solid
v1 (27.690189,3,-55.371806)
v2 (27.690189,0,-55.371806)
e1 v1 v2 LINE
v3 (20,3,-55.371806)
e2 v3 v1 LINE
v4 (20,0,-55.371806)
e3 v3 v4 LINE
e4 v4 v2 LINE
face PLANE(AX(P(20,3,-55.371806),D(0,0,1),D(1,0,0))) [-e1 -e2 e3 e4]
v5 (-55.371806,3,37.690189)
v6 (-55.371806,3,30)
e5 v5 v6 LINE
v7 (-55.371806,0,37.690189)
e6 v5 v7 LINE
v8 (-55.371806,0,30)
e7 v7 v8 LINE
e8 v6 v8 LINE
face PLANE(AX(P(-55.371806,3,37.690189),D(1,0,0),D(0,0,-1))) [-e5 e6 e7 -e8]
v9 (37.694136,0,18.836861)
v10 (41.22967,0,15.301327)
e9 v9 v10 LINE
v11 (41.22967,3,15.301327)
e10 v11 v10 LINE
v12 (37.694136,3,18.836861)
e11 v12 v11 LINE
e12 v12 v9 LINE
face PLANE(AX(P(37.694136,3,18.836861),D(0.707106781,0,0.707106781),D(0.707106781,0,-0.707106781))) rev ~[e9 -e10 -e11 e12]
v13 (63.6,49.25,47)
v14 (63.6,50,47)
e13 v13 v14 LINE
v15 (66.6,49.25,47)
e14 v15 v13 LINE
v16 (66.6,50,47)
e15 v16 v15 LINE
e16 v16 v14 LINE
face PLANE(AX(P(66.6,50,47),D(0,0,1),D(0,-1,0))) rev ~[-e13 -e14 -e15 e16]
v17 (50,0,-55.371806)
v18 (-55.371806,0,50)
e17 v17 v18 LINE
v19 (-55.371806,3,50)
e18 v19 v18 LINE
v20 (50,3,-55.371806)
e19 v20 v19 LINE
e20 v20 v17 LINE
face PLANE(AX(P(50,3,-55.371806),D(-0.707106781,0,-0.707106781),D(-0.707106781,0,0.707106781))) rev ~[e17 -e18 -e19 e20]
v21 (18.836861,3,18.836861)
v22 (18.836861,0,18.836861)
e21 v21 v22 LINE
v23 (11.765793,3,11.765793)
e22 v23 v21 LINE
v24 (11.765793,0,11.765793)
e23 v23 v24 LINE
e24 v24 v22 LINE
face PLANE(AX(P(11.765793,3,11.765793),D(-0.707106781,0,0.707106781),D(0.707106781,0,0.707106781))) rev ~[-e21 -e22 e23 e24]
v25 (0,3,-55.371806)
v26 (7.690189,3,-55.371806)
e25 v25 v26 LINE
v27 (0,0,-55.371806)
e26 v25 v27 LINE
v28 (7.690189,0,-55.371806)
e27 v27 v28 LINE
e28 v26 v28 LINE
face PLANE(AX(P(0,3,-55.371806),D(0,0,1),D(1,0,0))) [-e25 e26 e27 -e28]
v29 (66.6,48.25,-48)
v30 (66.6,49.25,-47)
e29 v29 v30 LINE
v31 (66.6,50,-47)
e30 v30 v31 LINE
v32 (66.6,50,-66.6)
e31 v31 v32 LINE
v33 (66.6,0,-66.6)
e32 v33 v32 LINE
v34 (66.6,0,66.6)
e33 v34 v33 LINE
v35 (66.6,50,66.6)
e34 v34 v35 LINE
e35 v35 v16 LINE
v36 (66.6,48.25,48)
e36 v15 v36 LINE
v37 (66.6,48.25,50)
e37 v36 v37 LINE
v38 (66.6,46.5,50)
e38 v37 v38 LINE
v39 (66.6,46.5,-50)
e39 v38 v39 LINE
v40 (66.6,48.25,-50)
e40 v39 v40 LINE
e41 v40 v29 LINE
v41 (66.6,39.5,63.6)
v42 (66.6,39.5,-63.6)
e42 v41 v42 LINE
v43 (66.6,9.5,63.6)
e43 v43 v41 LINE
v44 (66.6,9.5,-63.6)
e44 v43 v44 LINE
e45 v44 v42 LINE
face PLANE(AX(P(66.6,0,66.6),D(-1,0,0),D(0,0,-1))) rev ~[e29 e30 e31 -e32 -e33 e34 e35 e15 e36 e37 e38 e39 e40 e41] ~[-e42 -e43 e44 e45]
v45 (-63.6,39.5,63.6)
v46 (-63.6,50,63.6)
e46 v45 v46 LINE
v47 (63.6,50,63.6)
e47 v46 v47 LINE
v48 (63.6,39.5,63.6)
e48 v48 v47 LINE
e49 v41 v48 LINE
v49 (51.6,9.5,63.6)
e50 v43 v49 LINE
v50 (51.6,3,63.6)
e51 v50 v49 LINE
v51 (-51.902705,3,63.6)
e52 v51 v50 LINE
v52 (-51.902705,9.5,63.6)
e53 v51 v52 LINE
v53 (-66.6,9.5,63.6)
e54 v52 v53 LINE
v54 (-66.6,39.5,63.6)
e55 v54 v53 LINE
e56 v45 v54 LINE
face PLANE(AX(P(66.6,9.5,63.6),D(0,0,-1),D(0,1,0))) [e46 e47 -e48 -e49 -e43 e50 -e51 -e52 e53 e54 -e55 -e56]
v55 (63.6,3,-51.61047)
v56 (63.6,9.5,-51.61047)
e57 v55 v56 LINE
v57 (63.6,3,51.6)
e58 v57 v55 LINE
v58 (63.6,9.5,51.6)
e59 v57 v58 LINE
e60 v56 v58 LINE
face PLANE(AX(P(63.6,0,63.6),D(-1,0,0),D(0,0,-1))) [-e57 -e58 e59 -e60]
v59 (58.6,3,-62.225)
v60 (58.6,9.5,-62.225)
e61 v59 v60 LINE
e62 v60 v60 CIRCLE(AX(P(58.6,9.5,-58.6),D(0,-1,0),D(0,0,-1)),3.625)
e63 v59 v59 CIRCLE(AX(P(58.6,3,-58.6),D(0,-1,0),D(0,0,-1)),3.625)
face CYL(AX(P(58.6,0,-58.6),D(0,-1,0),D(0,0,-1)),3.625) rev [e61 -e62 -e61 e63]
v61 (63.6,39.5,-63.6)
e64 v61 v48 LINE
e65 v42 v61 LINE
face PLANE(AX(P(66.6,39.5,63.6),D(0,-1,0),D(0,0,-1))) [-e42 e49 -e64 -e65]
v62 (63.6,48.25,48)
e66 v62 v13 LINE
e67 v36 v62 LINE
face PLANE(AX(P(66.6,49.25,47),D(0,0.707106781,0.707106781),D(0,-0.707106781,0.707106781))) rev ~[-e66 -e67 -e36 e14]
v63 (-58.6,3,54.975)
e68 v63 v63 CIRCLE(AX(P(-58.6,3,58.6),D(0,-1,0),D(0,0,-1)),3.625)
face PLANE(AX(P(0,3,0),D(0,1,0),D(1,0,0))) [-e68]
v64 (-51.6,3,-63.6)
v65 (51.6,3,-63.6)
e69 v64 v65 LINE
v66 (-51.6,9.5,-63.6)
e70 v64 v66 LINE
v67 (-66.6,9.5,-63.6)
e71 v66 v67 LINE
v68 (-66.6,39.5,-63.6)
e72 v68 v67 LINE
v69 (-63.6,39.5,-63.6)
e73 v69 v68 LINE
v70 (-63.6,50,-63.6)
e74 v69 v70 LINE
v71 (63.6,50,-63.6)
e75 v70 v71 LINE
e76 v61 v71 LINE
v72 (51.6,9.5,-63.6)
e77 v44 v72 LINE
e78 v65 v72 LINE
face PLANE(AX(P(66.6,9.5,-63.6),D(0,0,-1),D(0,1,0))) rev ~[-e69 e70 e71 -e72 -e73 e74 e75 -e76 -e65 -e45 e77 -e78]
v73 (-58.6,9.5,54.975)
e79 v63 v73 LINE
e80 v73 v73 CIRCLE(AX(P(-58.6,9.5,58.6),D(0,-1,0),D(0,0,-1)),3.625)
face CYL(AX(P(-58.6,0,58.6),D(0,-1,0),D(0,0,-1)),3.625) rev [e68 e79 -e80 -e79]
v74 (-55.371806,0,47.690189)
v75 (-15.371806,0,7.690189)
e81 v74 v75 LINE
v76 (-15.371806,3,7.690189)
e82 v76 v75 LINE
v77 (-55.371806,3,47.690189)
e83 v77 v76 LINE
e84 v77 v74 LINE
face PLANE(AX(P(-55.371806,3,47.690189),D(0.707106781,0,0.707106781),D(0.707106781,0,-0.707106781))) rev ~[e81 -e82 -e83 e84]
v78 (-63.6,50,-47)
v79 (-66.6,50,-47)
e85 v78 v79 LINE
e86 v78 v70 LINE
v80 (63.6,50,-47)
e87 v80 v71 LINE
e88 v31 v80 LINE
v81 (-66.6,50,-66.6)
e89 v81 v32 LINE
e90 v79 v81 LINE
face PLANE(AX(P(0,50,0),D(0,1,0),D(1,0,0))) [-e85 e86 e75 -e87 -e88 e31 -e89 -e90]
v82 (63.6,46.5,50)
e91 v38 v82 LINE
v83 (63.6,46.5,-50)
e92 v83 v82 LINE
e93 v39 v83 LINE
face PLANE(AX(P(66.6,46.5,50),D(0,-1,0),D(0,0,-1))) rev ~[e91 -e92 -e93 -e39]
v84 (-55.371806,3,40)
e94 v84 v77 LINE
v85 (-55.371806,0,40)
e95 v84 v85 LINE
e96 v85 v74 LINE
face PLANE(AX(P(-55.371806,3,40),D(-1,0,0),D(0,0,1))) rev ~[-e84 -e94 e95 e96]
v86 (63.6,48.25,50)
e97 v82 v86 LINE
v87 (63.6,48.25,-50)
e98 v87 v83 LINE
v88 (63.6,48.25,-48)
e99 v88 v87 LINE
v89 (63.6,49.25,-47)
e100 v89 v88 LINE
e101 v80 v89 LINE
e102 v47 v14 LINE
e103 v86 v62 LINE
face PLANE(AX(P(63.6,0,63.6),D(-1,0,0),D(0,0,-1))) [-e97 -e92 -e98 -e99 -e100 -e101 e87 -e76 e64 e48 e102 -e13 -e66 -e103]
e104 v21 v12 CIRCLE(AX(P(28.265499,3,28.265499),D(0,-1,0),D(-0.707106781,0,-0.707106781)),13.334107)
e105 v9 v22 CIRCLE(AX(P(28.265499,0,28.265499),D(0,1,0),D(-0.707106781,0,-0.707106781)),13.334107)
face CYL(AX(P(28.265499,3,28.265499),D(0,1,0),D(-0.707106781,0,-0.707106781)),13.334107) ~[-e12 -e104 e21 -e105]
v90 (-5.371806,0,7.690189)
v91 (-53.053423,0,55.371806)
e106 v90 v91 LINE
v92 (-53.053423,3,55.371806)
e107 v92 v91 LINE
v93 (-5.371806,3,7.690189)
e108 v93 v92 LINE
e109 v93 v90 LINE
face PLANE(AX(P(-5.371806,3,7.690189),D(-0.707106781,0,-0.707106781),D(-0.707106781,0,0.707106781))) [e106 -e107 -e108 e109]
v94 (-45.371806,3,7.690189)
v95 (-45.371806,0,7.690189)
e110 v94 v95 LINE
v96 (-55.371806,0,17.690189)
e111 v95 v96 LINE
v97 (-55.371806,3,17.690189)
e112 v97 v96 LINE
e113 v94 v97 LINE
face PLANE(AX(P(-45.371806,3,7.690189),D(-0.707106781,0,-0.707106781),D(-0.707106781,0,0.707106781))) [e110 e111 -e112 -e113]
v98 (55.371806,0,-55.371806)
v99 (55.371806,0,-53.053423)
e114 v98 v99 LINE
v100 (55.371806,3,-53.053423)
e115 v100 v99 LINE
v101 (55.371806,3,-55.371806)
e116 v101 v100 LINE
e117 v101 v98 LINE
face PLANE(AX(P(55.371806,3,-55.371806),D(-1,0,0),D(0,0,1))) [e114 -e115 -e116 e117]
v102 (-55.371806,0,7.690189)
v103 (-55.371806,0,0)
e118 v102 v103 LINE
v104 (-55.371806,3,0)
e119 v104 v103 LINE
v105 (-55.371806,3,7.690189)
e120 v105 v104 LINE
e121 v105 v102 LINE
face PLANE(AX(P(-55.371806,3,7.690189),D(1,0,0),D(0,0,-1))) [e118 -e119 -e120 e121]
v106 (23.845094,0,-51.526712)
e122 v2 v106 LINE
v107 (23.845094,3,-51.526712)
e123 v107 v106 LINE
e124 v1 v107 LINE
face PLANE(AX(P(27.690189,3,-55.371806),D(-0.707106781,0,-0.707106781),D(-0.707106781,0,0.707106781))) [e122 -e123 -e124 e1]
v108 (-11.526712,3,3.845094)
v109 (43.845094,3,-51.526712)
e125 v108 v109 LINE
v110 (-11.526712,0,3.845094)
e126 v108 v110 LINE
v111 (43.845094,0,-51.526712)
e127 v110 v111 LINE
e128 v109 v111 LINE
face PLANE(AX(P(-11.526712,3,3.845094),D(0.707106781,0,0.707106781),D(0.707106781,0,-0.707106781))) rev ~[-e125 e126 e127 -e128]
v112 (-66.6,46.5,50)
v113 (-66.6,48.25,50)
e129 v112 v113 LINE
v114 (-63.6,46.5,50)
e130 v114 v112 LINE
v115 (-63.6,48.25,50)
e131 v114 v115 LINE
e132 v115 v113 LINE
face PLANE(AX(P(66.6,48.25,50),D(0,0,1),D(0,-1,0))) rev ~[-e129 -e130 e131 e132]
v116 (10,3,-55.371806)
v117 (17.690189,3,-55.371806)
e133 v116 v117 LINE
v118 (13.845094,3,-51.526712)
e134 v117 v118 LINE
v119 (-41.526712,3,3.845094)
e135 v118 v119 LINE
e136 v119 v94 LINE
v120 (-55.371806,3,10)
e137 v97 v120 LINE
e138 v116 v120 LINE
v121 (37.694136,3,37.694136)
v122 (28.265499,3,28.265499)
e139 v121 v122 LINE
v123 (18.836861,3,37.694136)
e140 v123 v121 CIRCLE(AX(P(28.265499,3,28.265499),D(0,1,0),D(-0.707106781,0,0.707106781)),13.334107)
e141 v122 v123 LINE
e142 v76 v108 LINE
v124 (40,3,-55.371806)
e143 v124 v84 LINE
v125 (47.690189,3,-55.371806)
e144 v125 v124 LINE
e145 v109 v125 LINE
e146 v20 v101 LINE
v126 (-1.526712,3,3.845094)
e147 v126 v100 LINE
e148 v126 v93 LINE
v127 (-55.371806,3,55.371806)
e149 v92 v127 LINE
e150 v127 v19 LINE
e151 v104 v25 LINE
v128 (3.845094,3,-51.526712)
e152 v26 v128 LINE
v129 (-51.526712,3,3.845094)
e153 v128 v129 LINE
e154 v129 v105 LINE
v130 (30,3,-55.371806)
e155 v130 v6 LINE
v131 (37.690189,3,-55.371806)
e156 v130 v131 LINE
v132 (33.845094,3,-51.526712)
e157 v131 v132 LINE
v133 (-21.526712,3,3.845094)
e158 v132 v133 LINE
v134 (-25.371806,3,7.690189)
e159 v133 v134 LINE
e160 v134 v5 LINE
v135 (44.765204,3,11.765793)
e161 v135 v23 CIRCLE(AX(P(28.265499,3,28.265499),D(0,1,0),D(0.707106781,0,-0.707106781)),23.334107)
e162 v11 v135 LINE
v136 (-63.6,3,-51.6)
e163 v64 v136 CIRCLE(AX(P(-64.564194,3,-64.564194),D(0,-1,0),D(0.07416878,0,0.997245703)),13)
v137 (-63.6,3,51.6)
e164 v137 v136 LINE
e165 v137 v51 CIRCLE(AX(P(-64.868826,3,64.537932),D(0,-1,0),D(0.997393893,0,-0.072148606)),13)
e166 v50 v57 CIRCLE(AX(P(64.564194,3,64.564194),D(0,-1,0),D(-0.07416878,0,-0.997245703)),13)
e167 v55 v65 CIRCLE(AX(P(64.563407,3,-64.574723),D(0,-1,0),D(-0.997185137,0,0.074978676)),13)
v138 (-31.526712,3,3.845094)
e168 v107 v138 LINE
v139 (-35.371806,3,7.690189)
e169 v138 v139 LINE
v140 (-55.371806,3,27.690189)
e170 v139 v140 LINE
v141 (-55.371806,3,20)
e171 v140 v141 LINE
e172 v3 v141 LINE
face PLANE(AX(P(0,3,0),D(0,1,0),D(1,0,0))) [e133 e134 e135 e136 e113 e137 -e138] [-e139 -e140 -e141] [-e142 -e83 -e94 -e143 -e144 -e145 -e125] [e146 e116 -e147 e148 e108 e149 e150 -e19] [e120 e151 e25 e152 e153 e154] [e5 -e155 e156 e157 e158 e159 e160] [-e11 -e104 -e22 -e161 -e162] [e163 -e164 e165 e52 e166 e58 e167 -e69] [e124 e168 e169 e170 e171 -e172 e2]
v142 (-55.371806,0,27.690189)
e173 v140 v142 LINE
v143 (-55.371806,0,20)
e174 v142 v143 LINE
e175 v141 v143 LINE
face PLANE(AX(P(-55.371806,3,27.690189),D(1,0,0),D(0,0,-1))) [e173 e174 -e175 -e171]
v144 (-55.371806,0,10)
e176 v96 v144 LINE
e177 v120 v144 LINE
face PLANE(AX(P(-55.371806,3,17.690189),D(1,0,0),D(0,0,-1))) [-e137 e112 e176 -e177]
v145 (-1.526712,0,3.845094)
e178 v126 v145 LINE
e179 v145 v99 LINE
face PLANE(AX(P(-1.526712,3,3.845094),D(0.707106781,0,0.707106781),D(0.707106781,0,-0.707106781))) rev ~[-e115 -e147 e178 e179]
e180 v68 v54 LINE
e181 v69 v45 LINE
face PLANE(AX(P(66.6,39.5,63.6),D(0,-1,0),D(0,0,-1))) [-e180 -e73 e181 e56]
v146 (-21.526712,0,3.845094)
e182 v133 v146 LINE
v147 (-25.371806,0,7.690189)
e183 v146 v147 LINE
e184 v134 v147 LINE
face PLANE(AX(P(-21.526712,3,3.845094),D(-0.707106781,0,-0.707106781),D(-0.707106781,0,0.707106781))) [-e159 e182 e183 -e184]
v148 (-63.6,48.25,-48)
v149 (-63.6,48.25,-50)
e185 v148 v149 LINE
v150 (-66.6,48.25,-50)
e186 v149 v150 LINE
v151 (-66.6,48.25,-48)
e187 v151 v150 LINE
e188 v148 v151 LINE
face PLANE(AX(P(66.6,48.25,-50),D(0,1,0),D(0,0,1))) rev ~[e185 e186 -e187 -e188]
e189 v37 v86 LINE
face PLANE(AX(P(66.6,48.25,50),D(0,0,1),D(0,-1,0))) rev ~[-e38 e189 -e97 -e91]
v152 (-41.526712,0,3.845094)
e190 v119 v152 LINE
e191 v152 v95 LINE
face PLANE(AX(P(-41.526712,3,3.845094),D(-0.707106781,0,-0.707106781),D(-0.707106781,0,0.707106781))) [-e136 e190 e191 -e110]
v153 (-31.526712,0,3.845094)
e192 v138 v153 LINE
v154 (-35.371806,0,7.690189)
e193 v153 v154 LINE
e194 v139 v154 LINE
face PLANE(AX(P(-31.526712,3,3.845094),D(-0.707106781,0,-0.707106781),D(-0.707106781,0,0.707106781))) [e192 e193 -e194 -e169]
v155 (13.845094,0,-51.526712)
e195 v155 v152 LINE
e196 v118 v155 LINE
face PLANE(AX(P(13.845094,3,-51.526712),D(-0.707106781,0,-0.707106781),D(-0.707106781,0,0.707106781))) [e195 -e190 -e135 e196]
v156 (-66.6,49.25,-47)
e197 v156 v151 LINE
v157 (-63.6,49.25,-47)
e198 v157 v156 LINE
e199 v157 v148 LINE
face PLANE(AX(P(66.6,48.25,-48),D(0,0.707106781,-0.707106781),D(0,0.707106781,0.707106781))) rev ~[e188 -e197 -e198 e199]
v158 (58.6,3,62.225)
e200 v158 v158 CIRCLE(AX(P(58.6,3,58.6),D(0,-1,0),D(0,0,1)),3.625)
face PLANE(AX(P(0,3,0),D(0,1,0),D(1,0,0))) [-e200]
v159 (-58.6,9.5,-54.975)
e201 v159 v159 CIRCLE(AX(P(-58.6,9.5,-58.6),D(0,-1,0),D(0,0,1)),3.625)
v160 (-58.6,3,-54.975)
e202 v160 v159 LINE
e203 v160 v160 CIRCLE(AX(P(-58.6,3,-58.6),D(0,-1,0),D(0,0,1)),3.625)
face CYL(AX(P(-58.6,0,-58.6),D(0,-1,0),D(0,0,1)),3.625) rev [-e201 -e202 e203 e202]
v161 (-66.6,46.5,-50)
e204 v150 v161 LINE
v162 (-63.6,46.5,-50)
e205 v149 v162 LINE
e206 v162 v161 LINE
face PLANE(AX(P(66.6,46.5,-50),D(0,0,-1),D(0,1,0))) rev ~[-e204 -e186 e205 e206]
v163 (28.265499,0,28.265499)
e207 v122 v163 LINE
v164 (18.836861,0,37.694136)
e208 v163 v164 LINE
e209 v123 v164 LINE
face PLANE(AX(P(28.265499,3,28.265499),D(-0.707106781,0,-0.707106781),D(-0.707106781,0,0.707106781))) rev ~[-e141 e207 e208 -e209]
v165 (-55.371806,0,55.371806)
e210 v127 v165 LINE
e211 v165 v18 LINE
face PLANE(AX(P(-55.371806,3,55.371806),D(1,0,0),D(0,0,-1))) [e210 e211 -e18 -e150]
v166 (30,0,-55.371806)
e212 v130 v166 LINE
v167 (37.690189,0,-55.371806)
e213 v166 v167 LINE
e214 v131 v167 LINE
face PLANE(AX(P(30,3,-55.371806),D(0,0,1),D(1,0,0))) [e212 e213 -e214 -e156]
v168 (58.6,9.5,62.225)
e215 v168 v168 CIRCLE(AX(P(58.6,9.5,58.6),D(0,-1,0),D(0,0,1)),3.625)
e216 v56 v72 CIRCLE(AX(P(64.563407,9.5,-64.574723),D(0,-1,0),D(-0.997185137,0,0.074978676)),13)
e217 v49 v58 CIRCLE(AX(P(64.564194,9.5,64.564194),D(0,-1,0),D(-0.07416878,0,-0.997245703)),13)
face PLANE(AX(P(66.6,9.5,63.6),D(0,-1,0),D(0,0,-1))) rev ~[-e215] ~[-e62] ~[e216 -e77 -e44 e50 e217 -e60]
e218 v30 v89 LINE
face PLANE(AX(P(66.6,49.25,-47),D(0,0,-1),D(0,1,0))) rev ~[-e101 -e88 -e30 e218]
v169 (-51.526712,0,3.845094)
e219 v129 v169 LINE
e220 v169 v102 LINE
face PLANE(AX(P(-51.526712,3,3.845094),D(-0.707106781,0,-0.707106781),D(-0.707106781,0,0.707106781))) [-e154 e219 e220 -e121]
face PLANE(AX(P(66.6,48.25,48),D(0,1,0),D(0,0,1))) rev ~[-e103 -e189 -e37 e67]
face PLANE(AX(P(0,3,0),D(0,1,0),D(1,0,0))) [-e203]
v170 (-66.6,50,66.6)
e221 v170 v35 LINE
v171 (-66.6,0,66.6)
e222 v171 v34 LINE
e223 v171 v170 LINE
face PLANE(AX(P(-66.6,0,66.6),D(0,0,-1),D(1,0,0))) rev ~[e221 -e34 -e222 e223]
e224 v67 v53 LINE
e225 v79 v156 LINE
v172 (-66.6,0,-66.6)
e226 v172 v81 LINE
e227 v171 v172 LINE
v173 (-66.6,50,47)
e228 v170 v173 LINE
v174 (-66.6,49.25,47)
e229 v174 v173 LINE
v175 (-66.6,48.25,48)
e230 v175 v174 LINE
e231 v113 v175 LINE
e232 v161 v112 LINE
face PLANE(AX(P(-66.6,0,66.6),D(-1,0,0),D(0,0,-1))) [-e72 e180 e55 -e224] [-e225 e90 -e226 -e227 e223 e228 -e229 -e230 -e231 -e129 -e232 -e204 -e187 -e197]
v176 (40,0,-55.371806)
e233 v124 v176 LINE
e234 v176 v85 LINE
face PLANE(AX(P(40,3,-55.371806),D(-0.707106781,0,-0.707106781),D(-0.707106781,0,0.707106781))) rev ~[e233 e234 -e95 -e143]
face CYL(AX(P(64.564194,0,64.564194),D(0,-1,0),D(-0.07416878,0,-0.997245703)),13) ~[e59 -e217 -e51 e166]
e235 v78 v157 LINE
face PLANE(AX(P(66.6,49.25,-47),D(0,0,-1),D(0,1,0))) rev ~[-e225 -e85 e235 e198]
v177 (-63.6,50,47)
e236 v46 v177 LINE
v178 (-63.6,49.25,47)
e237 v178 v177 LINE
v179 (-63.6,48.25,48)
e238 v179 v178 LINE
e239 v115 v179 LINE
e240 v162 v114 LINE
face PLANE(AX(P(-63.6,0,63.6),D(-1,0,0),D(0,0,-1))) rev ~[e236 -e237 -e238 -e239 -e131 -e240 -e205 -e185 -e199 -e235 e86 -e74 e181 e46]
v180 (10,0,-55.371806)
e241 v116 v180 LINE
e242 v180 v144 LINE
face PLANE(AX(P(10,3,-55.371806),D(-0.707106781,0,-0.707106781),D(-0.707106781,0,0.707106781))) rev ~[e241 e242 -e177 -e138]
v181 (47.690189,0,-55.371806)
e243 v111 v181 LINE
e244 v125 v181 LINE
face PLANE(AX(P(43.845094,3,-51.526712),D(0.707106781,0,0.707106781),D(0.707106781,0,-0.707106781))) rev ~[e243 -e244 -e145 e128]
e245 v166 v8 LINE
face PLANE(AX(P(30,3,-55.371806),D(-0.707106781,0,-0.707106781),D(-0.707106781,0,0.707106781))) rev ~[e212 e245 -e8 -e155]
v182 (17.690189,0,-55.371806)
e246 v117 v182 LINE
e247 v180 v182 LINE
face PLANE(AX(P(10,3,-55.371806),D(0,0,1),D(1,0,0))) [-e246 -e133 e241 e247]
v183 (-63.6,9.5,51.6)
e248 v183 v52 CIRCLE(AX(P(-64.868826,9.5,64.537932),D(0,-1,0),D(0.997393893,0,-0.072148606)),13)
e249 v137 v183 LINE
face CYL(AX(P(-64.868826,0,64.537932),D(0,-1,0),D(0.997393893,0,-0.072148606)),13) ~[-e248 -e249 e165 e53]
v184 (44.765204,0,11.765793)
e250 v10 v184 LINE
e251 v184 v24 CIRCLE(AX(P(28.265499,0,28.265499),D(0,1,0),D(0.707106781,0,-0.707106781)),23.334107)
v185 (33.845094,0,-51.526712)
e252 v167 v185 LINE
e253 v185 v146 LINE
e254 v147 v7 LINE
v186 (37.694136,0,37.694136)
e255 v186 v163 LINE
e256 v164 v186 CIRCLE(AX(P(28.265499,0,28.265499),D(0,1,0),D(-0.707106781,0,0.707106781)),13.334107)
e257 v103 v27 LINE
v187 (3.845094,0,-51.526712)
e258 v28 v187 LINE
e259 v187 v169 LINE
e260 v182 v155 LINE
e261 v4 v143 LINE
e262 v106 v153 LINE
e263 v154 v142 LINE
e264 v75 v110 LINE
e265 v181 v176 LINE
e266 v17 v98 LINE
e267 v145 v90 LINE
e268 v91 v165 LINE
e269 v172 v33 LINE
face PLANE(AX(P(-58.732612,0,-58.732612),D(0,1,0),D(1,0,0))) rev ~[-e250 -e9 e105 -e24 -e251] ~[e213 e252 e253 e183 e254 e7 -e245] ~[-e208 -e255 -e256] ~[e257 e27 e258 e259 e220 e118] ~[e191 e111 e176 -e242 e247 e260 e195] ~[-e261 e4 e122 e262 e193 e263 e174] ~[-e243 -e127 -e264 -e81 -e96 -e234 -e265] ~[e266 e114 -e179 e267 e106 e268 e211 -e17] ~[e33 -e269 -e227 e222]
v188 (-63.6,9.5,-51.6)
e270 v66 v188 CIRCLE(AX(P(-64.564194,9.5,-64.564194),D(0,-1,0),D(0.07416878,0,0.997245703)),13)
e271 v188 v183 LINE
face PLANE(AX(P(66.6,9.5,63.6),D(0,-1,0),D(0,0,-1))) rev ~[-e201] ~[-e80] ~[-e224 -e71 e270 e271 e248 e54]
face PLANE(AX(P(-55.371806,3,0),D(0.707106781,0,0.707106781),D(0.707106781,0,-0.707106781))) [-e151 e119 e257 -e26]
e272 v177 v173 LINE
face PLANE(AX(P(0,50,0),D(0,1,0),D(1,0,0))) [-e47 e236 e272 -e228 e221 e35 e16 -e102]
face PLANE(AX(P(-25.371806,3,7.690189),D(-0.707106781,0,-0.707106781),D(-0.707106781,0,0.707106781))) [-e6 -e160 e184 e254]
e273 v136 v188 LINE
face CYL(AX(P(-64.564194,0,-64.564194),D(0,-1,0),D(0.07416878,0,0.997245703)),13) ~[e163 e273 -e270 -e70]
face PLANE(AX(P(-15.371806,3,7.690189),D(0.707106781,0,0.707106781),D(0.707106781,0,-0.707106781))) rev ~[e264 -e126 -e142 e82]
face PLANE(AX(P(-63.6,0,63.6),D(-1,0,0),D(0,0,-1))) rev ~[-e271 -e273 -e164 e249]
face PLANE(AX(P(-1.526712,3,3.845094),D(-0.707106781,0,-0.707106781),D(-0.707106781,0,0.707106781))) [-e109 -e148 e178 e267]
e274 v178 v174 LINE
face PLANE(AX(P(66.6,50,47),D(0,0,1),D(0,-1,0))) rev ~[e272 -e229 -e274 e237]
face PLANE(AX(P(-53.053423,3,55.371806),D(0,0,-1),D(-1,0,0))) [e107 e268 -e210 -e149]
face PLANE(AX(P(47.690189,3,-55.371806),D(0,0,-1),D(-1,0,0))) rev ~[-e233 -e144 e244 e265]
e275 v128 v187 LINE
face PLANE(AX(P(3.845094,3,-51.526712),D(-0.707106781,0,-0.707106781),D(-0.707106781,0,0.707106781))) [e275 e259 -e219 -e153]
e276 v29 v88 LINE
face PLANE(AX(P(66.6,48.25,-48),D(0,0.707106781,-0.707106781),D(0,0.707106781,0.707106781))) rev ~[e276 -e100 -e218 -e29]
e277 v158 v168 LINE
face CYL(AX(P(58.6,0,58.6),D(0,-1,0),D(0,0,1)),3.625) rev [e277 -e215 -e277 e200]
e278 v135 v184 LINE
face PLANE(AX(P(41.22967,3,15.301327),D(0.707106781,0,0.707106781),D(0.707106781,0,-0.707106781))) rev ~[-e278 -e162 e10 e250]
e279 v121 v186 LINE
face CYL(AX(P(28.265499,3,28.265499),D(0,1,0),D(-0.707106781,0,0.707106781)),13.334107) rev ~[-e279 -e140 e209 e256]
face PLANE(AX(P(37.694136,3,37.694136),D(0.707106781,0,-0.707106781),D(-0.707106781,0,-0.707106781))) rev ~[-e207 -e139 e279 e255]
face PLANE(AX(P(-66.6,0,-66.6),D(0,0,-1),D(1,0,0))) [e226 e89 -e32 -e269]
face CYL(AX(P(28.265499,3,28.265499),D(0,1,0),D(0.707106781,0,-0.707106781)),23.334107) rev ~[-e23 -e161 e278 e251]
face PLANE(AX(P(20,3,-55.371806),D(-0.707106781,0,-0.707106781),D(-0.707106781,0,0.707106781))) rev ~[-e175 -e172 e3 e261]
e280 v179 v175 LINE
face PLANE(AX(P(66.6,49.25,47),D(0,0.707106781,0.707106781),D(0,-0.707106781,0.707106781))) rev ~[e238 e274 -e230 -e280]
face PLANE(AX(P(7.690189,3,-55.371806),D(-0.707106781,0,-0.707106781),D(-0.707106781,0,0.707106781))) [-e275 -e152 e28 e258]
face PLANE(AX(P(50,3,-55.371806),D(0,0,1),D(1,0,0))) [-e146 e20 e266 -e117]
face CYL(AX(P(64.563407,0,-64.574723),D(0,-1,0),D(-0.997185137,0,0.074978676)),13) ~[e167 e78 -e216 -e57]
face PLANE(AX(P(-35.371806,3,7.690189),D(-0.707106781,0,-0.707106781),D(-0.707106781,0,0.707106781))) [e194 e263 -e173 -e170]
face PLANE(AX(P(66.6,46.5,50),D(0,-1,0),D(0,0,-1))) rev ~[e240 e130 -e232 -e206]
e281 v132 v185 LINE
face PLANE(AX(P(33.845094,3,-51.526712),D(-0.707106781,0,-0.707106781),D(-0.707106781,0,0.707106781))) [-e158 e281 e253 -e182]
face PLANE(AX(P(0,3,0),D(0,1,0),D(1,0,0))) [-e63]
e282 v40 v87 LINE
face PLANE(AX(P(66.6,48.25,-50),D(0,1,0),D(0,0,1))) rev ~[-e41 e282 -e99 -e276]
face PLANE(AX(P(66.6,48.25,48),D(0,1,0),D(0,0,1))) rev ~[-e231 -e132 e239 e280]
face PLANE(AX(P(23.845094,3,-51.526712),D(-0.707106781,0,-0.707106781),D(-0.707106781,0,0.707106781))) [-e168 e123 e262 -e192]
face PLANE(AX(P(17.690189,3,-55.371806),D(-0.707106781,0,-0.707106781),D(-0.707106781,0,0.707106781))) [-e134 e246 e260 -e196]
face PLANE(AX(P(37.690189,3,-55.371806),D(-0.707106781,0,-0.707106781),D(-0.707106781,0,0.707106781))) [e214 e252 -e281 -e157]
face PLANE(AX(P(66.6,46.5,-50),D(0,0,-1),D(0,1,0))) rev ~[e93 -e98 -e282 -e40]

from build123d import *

# Parameters (mm, degrees)
SKETCH1_W                = 133.2
SKETCH1_H                = 133.2
SKETCH1_W_2              = 127.2
SKETCH1_H_2              = 127.2
BOSS_EXTRUDE1_DEPTH      = 50
SKETCH2_W                = 127.2
SKETCH2_H                = 127.2
BOSS_EXTRUDE2_DEPTH      = 3
BOSS_EXTRUDE4_DEPTH      = 7
BOSS_EXTRUDE4_DEPTH_BACK = 3
SKETCH3_R                = 3.625
SKETCH4_W                = 127.2
SKETCH4_H                = 30
CUT_EXTRUDE2_DEPTH       = 158.091692969
CUT_EXTRUDE3_DEPTH       = 158.091692969
CUT_EXTRUDE6_DEPTH       = 106.262148943


with BuildPart() as part:
    # Sketch1 → Boss-Extrude1 (new body)
    with BuildSketch(Plane(origin=(0, 0, 0), x_dir=(1, 0, 0), z_dir=(0, 1, 0))):
        Rectangle(SKETCH1_W, SKETCH1_H)
        Rectangle(SKETCH1_W_2, SKETCH1_H_2, mode=Mode.SUBTRACT)
    extrude(amount=BOSS_EXTRUDE1_DEPTH)

    # Sketch2 → Boss-Extrude2 (add)
    with BuildSketch(Plane(origin=(0, 0, 0), x_dir=(1, 0, 0), z_dir=(0, 1, 0))):
        Rectangle(SKETCH2_W, SKETCH2_H)
    extrude(amount=BOSS_EXTRUDE2_DEPTH)

    # Sketch3 → Boss-Extrude4 (add, two sides: drawn at the far end of the back side and taken through both)
    # profile 1 of 4: a face of its own
    with BuildSketch(Plane(origin=(0, 3, 0), x_dir=(1, 0, 0), z_dir=(0, 1, 0)).offset(-BOSS_EXTRUDE4_DEPTH_BACK)):
        with BuildLine():
            ThreePointArc((-63.6, 51.6), (-55.371805983, 55.371805983), (-51.6, 63.6))
            Line((-51.6, 63.6), (-63.6, 63.6))
            Line((-63.6, 63.6), (-63.6, 51.6))
        make_face()
        with Locations(Location((-58.6, 58.6, 0), (0, 0, 270))):
            Circle(SKETCH3_R, mode=Mode.SUBTRACT)
    # profile 2 of 4: a face of its own
    with BuildSketch(Plane(origin=(0, 3, 0), x_dir=(1, 0, 0), z_dir=(0, 1, 0)).offset(-BOSS_EXTRUDE4_DEPTH_BACK)):
        with BuildLine():
            ThreePointArc((-51.902705138, -63.6), (-55.559775075, -55.463705987), (-63.6, -51.6))
            Line((-63.6, -51.6), (-63.6, -63.6))
            Line((-63.6, -63.6), (-51.902705138, -63.6))
        make_face()
        with Locations(Location((-58.6, -58.6, 0), (0, 0, 90))):
            Circle(SKETCH3_R, mode=Mode.SUBTRACT)
    # profile 3 of 4: a face of its own
    with BuildSketch(Plane(origin=(0, 3, 0), x_dir=(1, 0, 0), z_dir=(0, 1, 0)).offset(-BOSS_EXTRUDE4_DEPTH_BACK)):
        with BuildLine():
            Line((63.6, 63.6), (51.6, 63.6))
            ThreePointArc((51.6, 63.6), (55.375031477, 55.378323531), (63.6, 51.610470108))
            Line((63.6, 51.610470108), (63.6, 63.6))
        make_face()
        with Locations(Location((58.6, 58.6, 0), (0, 0, 90))):
            Circle(SKETCH3_R, mode=Mode.SUBTRACT)
    # profile 4 of 4: a face of its own
    with BuildSketch(Plane(origin=(0, 3, 0), x_dir=(1, 0, 0), z_dir=(0, 1, 0)).offset(-BOSS_EXTRUDE4_DEPTH_BACK)):
        with BuildLine():
            Line((63.6, -63.6), (63.6, -51.6))
            ThreePointArc((63.6, -51.6), (55.371805983, -55.371805983), (51.6, -63.6))
            Line((51.6, -63.6), (63.6, -63.6))
        make_face()
        with Locations(Location((58.6, -58.6, 0), (0, 0, 270))):
            Circle(SKETCH3_R, mode=Mode.SUBTRACT)
    extrude(amount=BOSS_EXTRUDE4_DEPTH + BOSS_EXTRUDE4_DEPTH_BACK)

    # Sketch4 → Cut-Extrude2 (cut, through all)
    with BuildSketch(Plane(origin=(66.6, 0, 0), x_dir=(0, 0, -1), z_dir=(1, 0, 0))):
        with Locations((0, 24.5)):
            Rectangle(SKETCH4_W, SKETCH4_H)
    extrude(amount=-CUT_EXTRUDE2_DEPTH, mode=Mode.SUBTRACT)

    # Sketch5 → Cut-Extrude3 (cut, through all)
    with BuildSketch(Plane(origin=(66.6, 0, 0), x_dir=(0, 0, -1), z_dir=(1, 0, 0))):
        Polygon((-50, 48.25), (-50, 46.5), (50, 46.5), (50, 48.25), (48, 48.25), (47, 49.25), (47, 50), (-47, 50), (-47, 49.25), (-48, 48.25), align=None)
    extrude(amount=-CUT_EXTRUDE3_DEPTH, mode=Mode.SUBTRACT)

    # Sketch6 → Cut-Extrude6 (cut, through all)
    with BuildSketch(Plane(origin=(0, 3, 0), x_dir=(1, 0, 0), z_dir=(0, 1, 0))):
        Polygon((-53.053423166, -55.371805983), (-55.371805983, -55.371805983), (-55.371805983, -50), (-5.371805983, 0), (50, 55.371805983), (55.371805983, 55.371805983), (55.371805983, 53.053423166), (53.8450944, 51.526711583), (-1.526711583, -3.8450944), (-5.371805983, -7.690188801), align=None)
        Polygon((-55.371805983, -37.690188801), (-55.371805983, -30), (-25.371805983, 0), (30, 55.371805983), (37.690188801, 55.371805983), (33.8450944, 51.526711583), (-21.526711583, -3.8450944), (-25.371805983, -7.690188801), align=None)
        Polygon((-55.371805983, -27.690188801), (-55.371805983, -20), (-35.371805983, 0), (20, 55.371805983), (27.690188801, 55.371805983), (23.8450944, 51.526711583), (-31.526711583, -3.8450944), (-35.371805983, -7.690188801), align=None)
        Polygon((-55.371805983, -17.690188801), (-55.371805983, -10), (-45.371805983, 0), (10, 55.371805983), (17.690188801, 55.371805983), (13.8450944, 51.526711583), (-41.526711583, -3.8450944), (-45.371805983, -7.690188801), align=None)
        Polygon((0, 55.371805983), (7.690188801, 55.371805983), (3.8450944, 51.526711583), (-51.526711583, -3.8450944), (-55.371805983, -7.690188801), (-55.371805983, 0), align=None)
        with BuildLine():
            ThreePointArc((18.836860938, -37.694136454), (28.265498696, -41.599606087), (37.694136454, -37.694136454))
            Line((37.694136454, -37.694136454), (28.265498696, -28.265498696))
            Line((28.265498696, -28.265498696), (18.836860938, -37.694136454))
        make_face()
        with BuildLine():
            Line((41.229670359, -15.301327032), (44.765204265, -11.765793127))
            ThreePointArc((44.765204265, -11.765793127), (28.265498696, -4.931391304), (11.765793127, -11.765793127))
            Line((11.765793127, -11.765793127), (15.301327032, -15.301327032))
            Line((15.301327032, -15.301327032), (18.836860938, -18.836860938))
            ThreePointArc((18.836860938, -18.836860938), (28.265498696, -14.931391304), (37.694136454, -18.836860938))
            Line((37.694136454, -18.836860938), (41.229670359, -15.301327032))
        make_face()
        Polygon((-15.371805983, 0), (-55.371805983, -40), (-55.371805983, -47.690188801), (-15.371805983, -7.690188801), (-11.526711583, -3.8450944), (43.8450944, 51.526711583), (47.690188801, 55.371805983), (40, 55.371805983), align=None)
    extrude(amount=-CUT_EXTRUDE6_DEPTH, mode=Mode.SUBTRACT)


solid = part.part
